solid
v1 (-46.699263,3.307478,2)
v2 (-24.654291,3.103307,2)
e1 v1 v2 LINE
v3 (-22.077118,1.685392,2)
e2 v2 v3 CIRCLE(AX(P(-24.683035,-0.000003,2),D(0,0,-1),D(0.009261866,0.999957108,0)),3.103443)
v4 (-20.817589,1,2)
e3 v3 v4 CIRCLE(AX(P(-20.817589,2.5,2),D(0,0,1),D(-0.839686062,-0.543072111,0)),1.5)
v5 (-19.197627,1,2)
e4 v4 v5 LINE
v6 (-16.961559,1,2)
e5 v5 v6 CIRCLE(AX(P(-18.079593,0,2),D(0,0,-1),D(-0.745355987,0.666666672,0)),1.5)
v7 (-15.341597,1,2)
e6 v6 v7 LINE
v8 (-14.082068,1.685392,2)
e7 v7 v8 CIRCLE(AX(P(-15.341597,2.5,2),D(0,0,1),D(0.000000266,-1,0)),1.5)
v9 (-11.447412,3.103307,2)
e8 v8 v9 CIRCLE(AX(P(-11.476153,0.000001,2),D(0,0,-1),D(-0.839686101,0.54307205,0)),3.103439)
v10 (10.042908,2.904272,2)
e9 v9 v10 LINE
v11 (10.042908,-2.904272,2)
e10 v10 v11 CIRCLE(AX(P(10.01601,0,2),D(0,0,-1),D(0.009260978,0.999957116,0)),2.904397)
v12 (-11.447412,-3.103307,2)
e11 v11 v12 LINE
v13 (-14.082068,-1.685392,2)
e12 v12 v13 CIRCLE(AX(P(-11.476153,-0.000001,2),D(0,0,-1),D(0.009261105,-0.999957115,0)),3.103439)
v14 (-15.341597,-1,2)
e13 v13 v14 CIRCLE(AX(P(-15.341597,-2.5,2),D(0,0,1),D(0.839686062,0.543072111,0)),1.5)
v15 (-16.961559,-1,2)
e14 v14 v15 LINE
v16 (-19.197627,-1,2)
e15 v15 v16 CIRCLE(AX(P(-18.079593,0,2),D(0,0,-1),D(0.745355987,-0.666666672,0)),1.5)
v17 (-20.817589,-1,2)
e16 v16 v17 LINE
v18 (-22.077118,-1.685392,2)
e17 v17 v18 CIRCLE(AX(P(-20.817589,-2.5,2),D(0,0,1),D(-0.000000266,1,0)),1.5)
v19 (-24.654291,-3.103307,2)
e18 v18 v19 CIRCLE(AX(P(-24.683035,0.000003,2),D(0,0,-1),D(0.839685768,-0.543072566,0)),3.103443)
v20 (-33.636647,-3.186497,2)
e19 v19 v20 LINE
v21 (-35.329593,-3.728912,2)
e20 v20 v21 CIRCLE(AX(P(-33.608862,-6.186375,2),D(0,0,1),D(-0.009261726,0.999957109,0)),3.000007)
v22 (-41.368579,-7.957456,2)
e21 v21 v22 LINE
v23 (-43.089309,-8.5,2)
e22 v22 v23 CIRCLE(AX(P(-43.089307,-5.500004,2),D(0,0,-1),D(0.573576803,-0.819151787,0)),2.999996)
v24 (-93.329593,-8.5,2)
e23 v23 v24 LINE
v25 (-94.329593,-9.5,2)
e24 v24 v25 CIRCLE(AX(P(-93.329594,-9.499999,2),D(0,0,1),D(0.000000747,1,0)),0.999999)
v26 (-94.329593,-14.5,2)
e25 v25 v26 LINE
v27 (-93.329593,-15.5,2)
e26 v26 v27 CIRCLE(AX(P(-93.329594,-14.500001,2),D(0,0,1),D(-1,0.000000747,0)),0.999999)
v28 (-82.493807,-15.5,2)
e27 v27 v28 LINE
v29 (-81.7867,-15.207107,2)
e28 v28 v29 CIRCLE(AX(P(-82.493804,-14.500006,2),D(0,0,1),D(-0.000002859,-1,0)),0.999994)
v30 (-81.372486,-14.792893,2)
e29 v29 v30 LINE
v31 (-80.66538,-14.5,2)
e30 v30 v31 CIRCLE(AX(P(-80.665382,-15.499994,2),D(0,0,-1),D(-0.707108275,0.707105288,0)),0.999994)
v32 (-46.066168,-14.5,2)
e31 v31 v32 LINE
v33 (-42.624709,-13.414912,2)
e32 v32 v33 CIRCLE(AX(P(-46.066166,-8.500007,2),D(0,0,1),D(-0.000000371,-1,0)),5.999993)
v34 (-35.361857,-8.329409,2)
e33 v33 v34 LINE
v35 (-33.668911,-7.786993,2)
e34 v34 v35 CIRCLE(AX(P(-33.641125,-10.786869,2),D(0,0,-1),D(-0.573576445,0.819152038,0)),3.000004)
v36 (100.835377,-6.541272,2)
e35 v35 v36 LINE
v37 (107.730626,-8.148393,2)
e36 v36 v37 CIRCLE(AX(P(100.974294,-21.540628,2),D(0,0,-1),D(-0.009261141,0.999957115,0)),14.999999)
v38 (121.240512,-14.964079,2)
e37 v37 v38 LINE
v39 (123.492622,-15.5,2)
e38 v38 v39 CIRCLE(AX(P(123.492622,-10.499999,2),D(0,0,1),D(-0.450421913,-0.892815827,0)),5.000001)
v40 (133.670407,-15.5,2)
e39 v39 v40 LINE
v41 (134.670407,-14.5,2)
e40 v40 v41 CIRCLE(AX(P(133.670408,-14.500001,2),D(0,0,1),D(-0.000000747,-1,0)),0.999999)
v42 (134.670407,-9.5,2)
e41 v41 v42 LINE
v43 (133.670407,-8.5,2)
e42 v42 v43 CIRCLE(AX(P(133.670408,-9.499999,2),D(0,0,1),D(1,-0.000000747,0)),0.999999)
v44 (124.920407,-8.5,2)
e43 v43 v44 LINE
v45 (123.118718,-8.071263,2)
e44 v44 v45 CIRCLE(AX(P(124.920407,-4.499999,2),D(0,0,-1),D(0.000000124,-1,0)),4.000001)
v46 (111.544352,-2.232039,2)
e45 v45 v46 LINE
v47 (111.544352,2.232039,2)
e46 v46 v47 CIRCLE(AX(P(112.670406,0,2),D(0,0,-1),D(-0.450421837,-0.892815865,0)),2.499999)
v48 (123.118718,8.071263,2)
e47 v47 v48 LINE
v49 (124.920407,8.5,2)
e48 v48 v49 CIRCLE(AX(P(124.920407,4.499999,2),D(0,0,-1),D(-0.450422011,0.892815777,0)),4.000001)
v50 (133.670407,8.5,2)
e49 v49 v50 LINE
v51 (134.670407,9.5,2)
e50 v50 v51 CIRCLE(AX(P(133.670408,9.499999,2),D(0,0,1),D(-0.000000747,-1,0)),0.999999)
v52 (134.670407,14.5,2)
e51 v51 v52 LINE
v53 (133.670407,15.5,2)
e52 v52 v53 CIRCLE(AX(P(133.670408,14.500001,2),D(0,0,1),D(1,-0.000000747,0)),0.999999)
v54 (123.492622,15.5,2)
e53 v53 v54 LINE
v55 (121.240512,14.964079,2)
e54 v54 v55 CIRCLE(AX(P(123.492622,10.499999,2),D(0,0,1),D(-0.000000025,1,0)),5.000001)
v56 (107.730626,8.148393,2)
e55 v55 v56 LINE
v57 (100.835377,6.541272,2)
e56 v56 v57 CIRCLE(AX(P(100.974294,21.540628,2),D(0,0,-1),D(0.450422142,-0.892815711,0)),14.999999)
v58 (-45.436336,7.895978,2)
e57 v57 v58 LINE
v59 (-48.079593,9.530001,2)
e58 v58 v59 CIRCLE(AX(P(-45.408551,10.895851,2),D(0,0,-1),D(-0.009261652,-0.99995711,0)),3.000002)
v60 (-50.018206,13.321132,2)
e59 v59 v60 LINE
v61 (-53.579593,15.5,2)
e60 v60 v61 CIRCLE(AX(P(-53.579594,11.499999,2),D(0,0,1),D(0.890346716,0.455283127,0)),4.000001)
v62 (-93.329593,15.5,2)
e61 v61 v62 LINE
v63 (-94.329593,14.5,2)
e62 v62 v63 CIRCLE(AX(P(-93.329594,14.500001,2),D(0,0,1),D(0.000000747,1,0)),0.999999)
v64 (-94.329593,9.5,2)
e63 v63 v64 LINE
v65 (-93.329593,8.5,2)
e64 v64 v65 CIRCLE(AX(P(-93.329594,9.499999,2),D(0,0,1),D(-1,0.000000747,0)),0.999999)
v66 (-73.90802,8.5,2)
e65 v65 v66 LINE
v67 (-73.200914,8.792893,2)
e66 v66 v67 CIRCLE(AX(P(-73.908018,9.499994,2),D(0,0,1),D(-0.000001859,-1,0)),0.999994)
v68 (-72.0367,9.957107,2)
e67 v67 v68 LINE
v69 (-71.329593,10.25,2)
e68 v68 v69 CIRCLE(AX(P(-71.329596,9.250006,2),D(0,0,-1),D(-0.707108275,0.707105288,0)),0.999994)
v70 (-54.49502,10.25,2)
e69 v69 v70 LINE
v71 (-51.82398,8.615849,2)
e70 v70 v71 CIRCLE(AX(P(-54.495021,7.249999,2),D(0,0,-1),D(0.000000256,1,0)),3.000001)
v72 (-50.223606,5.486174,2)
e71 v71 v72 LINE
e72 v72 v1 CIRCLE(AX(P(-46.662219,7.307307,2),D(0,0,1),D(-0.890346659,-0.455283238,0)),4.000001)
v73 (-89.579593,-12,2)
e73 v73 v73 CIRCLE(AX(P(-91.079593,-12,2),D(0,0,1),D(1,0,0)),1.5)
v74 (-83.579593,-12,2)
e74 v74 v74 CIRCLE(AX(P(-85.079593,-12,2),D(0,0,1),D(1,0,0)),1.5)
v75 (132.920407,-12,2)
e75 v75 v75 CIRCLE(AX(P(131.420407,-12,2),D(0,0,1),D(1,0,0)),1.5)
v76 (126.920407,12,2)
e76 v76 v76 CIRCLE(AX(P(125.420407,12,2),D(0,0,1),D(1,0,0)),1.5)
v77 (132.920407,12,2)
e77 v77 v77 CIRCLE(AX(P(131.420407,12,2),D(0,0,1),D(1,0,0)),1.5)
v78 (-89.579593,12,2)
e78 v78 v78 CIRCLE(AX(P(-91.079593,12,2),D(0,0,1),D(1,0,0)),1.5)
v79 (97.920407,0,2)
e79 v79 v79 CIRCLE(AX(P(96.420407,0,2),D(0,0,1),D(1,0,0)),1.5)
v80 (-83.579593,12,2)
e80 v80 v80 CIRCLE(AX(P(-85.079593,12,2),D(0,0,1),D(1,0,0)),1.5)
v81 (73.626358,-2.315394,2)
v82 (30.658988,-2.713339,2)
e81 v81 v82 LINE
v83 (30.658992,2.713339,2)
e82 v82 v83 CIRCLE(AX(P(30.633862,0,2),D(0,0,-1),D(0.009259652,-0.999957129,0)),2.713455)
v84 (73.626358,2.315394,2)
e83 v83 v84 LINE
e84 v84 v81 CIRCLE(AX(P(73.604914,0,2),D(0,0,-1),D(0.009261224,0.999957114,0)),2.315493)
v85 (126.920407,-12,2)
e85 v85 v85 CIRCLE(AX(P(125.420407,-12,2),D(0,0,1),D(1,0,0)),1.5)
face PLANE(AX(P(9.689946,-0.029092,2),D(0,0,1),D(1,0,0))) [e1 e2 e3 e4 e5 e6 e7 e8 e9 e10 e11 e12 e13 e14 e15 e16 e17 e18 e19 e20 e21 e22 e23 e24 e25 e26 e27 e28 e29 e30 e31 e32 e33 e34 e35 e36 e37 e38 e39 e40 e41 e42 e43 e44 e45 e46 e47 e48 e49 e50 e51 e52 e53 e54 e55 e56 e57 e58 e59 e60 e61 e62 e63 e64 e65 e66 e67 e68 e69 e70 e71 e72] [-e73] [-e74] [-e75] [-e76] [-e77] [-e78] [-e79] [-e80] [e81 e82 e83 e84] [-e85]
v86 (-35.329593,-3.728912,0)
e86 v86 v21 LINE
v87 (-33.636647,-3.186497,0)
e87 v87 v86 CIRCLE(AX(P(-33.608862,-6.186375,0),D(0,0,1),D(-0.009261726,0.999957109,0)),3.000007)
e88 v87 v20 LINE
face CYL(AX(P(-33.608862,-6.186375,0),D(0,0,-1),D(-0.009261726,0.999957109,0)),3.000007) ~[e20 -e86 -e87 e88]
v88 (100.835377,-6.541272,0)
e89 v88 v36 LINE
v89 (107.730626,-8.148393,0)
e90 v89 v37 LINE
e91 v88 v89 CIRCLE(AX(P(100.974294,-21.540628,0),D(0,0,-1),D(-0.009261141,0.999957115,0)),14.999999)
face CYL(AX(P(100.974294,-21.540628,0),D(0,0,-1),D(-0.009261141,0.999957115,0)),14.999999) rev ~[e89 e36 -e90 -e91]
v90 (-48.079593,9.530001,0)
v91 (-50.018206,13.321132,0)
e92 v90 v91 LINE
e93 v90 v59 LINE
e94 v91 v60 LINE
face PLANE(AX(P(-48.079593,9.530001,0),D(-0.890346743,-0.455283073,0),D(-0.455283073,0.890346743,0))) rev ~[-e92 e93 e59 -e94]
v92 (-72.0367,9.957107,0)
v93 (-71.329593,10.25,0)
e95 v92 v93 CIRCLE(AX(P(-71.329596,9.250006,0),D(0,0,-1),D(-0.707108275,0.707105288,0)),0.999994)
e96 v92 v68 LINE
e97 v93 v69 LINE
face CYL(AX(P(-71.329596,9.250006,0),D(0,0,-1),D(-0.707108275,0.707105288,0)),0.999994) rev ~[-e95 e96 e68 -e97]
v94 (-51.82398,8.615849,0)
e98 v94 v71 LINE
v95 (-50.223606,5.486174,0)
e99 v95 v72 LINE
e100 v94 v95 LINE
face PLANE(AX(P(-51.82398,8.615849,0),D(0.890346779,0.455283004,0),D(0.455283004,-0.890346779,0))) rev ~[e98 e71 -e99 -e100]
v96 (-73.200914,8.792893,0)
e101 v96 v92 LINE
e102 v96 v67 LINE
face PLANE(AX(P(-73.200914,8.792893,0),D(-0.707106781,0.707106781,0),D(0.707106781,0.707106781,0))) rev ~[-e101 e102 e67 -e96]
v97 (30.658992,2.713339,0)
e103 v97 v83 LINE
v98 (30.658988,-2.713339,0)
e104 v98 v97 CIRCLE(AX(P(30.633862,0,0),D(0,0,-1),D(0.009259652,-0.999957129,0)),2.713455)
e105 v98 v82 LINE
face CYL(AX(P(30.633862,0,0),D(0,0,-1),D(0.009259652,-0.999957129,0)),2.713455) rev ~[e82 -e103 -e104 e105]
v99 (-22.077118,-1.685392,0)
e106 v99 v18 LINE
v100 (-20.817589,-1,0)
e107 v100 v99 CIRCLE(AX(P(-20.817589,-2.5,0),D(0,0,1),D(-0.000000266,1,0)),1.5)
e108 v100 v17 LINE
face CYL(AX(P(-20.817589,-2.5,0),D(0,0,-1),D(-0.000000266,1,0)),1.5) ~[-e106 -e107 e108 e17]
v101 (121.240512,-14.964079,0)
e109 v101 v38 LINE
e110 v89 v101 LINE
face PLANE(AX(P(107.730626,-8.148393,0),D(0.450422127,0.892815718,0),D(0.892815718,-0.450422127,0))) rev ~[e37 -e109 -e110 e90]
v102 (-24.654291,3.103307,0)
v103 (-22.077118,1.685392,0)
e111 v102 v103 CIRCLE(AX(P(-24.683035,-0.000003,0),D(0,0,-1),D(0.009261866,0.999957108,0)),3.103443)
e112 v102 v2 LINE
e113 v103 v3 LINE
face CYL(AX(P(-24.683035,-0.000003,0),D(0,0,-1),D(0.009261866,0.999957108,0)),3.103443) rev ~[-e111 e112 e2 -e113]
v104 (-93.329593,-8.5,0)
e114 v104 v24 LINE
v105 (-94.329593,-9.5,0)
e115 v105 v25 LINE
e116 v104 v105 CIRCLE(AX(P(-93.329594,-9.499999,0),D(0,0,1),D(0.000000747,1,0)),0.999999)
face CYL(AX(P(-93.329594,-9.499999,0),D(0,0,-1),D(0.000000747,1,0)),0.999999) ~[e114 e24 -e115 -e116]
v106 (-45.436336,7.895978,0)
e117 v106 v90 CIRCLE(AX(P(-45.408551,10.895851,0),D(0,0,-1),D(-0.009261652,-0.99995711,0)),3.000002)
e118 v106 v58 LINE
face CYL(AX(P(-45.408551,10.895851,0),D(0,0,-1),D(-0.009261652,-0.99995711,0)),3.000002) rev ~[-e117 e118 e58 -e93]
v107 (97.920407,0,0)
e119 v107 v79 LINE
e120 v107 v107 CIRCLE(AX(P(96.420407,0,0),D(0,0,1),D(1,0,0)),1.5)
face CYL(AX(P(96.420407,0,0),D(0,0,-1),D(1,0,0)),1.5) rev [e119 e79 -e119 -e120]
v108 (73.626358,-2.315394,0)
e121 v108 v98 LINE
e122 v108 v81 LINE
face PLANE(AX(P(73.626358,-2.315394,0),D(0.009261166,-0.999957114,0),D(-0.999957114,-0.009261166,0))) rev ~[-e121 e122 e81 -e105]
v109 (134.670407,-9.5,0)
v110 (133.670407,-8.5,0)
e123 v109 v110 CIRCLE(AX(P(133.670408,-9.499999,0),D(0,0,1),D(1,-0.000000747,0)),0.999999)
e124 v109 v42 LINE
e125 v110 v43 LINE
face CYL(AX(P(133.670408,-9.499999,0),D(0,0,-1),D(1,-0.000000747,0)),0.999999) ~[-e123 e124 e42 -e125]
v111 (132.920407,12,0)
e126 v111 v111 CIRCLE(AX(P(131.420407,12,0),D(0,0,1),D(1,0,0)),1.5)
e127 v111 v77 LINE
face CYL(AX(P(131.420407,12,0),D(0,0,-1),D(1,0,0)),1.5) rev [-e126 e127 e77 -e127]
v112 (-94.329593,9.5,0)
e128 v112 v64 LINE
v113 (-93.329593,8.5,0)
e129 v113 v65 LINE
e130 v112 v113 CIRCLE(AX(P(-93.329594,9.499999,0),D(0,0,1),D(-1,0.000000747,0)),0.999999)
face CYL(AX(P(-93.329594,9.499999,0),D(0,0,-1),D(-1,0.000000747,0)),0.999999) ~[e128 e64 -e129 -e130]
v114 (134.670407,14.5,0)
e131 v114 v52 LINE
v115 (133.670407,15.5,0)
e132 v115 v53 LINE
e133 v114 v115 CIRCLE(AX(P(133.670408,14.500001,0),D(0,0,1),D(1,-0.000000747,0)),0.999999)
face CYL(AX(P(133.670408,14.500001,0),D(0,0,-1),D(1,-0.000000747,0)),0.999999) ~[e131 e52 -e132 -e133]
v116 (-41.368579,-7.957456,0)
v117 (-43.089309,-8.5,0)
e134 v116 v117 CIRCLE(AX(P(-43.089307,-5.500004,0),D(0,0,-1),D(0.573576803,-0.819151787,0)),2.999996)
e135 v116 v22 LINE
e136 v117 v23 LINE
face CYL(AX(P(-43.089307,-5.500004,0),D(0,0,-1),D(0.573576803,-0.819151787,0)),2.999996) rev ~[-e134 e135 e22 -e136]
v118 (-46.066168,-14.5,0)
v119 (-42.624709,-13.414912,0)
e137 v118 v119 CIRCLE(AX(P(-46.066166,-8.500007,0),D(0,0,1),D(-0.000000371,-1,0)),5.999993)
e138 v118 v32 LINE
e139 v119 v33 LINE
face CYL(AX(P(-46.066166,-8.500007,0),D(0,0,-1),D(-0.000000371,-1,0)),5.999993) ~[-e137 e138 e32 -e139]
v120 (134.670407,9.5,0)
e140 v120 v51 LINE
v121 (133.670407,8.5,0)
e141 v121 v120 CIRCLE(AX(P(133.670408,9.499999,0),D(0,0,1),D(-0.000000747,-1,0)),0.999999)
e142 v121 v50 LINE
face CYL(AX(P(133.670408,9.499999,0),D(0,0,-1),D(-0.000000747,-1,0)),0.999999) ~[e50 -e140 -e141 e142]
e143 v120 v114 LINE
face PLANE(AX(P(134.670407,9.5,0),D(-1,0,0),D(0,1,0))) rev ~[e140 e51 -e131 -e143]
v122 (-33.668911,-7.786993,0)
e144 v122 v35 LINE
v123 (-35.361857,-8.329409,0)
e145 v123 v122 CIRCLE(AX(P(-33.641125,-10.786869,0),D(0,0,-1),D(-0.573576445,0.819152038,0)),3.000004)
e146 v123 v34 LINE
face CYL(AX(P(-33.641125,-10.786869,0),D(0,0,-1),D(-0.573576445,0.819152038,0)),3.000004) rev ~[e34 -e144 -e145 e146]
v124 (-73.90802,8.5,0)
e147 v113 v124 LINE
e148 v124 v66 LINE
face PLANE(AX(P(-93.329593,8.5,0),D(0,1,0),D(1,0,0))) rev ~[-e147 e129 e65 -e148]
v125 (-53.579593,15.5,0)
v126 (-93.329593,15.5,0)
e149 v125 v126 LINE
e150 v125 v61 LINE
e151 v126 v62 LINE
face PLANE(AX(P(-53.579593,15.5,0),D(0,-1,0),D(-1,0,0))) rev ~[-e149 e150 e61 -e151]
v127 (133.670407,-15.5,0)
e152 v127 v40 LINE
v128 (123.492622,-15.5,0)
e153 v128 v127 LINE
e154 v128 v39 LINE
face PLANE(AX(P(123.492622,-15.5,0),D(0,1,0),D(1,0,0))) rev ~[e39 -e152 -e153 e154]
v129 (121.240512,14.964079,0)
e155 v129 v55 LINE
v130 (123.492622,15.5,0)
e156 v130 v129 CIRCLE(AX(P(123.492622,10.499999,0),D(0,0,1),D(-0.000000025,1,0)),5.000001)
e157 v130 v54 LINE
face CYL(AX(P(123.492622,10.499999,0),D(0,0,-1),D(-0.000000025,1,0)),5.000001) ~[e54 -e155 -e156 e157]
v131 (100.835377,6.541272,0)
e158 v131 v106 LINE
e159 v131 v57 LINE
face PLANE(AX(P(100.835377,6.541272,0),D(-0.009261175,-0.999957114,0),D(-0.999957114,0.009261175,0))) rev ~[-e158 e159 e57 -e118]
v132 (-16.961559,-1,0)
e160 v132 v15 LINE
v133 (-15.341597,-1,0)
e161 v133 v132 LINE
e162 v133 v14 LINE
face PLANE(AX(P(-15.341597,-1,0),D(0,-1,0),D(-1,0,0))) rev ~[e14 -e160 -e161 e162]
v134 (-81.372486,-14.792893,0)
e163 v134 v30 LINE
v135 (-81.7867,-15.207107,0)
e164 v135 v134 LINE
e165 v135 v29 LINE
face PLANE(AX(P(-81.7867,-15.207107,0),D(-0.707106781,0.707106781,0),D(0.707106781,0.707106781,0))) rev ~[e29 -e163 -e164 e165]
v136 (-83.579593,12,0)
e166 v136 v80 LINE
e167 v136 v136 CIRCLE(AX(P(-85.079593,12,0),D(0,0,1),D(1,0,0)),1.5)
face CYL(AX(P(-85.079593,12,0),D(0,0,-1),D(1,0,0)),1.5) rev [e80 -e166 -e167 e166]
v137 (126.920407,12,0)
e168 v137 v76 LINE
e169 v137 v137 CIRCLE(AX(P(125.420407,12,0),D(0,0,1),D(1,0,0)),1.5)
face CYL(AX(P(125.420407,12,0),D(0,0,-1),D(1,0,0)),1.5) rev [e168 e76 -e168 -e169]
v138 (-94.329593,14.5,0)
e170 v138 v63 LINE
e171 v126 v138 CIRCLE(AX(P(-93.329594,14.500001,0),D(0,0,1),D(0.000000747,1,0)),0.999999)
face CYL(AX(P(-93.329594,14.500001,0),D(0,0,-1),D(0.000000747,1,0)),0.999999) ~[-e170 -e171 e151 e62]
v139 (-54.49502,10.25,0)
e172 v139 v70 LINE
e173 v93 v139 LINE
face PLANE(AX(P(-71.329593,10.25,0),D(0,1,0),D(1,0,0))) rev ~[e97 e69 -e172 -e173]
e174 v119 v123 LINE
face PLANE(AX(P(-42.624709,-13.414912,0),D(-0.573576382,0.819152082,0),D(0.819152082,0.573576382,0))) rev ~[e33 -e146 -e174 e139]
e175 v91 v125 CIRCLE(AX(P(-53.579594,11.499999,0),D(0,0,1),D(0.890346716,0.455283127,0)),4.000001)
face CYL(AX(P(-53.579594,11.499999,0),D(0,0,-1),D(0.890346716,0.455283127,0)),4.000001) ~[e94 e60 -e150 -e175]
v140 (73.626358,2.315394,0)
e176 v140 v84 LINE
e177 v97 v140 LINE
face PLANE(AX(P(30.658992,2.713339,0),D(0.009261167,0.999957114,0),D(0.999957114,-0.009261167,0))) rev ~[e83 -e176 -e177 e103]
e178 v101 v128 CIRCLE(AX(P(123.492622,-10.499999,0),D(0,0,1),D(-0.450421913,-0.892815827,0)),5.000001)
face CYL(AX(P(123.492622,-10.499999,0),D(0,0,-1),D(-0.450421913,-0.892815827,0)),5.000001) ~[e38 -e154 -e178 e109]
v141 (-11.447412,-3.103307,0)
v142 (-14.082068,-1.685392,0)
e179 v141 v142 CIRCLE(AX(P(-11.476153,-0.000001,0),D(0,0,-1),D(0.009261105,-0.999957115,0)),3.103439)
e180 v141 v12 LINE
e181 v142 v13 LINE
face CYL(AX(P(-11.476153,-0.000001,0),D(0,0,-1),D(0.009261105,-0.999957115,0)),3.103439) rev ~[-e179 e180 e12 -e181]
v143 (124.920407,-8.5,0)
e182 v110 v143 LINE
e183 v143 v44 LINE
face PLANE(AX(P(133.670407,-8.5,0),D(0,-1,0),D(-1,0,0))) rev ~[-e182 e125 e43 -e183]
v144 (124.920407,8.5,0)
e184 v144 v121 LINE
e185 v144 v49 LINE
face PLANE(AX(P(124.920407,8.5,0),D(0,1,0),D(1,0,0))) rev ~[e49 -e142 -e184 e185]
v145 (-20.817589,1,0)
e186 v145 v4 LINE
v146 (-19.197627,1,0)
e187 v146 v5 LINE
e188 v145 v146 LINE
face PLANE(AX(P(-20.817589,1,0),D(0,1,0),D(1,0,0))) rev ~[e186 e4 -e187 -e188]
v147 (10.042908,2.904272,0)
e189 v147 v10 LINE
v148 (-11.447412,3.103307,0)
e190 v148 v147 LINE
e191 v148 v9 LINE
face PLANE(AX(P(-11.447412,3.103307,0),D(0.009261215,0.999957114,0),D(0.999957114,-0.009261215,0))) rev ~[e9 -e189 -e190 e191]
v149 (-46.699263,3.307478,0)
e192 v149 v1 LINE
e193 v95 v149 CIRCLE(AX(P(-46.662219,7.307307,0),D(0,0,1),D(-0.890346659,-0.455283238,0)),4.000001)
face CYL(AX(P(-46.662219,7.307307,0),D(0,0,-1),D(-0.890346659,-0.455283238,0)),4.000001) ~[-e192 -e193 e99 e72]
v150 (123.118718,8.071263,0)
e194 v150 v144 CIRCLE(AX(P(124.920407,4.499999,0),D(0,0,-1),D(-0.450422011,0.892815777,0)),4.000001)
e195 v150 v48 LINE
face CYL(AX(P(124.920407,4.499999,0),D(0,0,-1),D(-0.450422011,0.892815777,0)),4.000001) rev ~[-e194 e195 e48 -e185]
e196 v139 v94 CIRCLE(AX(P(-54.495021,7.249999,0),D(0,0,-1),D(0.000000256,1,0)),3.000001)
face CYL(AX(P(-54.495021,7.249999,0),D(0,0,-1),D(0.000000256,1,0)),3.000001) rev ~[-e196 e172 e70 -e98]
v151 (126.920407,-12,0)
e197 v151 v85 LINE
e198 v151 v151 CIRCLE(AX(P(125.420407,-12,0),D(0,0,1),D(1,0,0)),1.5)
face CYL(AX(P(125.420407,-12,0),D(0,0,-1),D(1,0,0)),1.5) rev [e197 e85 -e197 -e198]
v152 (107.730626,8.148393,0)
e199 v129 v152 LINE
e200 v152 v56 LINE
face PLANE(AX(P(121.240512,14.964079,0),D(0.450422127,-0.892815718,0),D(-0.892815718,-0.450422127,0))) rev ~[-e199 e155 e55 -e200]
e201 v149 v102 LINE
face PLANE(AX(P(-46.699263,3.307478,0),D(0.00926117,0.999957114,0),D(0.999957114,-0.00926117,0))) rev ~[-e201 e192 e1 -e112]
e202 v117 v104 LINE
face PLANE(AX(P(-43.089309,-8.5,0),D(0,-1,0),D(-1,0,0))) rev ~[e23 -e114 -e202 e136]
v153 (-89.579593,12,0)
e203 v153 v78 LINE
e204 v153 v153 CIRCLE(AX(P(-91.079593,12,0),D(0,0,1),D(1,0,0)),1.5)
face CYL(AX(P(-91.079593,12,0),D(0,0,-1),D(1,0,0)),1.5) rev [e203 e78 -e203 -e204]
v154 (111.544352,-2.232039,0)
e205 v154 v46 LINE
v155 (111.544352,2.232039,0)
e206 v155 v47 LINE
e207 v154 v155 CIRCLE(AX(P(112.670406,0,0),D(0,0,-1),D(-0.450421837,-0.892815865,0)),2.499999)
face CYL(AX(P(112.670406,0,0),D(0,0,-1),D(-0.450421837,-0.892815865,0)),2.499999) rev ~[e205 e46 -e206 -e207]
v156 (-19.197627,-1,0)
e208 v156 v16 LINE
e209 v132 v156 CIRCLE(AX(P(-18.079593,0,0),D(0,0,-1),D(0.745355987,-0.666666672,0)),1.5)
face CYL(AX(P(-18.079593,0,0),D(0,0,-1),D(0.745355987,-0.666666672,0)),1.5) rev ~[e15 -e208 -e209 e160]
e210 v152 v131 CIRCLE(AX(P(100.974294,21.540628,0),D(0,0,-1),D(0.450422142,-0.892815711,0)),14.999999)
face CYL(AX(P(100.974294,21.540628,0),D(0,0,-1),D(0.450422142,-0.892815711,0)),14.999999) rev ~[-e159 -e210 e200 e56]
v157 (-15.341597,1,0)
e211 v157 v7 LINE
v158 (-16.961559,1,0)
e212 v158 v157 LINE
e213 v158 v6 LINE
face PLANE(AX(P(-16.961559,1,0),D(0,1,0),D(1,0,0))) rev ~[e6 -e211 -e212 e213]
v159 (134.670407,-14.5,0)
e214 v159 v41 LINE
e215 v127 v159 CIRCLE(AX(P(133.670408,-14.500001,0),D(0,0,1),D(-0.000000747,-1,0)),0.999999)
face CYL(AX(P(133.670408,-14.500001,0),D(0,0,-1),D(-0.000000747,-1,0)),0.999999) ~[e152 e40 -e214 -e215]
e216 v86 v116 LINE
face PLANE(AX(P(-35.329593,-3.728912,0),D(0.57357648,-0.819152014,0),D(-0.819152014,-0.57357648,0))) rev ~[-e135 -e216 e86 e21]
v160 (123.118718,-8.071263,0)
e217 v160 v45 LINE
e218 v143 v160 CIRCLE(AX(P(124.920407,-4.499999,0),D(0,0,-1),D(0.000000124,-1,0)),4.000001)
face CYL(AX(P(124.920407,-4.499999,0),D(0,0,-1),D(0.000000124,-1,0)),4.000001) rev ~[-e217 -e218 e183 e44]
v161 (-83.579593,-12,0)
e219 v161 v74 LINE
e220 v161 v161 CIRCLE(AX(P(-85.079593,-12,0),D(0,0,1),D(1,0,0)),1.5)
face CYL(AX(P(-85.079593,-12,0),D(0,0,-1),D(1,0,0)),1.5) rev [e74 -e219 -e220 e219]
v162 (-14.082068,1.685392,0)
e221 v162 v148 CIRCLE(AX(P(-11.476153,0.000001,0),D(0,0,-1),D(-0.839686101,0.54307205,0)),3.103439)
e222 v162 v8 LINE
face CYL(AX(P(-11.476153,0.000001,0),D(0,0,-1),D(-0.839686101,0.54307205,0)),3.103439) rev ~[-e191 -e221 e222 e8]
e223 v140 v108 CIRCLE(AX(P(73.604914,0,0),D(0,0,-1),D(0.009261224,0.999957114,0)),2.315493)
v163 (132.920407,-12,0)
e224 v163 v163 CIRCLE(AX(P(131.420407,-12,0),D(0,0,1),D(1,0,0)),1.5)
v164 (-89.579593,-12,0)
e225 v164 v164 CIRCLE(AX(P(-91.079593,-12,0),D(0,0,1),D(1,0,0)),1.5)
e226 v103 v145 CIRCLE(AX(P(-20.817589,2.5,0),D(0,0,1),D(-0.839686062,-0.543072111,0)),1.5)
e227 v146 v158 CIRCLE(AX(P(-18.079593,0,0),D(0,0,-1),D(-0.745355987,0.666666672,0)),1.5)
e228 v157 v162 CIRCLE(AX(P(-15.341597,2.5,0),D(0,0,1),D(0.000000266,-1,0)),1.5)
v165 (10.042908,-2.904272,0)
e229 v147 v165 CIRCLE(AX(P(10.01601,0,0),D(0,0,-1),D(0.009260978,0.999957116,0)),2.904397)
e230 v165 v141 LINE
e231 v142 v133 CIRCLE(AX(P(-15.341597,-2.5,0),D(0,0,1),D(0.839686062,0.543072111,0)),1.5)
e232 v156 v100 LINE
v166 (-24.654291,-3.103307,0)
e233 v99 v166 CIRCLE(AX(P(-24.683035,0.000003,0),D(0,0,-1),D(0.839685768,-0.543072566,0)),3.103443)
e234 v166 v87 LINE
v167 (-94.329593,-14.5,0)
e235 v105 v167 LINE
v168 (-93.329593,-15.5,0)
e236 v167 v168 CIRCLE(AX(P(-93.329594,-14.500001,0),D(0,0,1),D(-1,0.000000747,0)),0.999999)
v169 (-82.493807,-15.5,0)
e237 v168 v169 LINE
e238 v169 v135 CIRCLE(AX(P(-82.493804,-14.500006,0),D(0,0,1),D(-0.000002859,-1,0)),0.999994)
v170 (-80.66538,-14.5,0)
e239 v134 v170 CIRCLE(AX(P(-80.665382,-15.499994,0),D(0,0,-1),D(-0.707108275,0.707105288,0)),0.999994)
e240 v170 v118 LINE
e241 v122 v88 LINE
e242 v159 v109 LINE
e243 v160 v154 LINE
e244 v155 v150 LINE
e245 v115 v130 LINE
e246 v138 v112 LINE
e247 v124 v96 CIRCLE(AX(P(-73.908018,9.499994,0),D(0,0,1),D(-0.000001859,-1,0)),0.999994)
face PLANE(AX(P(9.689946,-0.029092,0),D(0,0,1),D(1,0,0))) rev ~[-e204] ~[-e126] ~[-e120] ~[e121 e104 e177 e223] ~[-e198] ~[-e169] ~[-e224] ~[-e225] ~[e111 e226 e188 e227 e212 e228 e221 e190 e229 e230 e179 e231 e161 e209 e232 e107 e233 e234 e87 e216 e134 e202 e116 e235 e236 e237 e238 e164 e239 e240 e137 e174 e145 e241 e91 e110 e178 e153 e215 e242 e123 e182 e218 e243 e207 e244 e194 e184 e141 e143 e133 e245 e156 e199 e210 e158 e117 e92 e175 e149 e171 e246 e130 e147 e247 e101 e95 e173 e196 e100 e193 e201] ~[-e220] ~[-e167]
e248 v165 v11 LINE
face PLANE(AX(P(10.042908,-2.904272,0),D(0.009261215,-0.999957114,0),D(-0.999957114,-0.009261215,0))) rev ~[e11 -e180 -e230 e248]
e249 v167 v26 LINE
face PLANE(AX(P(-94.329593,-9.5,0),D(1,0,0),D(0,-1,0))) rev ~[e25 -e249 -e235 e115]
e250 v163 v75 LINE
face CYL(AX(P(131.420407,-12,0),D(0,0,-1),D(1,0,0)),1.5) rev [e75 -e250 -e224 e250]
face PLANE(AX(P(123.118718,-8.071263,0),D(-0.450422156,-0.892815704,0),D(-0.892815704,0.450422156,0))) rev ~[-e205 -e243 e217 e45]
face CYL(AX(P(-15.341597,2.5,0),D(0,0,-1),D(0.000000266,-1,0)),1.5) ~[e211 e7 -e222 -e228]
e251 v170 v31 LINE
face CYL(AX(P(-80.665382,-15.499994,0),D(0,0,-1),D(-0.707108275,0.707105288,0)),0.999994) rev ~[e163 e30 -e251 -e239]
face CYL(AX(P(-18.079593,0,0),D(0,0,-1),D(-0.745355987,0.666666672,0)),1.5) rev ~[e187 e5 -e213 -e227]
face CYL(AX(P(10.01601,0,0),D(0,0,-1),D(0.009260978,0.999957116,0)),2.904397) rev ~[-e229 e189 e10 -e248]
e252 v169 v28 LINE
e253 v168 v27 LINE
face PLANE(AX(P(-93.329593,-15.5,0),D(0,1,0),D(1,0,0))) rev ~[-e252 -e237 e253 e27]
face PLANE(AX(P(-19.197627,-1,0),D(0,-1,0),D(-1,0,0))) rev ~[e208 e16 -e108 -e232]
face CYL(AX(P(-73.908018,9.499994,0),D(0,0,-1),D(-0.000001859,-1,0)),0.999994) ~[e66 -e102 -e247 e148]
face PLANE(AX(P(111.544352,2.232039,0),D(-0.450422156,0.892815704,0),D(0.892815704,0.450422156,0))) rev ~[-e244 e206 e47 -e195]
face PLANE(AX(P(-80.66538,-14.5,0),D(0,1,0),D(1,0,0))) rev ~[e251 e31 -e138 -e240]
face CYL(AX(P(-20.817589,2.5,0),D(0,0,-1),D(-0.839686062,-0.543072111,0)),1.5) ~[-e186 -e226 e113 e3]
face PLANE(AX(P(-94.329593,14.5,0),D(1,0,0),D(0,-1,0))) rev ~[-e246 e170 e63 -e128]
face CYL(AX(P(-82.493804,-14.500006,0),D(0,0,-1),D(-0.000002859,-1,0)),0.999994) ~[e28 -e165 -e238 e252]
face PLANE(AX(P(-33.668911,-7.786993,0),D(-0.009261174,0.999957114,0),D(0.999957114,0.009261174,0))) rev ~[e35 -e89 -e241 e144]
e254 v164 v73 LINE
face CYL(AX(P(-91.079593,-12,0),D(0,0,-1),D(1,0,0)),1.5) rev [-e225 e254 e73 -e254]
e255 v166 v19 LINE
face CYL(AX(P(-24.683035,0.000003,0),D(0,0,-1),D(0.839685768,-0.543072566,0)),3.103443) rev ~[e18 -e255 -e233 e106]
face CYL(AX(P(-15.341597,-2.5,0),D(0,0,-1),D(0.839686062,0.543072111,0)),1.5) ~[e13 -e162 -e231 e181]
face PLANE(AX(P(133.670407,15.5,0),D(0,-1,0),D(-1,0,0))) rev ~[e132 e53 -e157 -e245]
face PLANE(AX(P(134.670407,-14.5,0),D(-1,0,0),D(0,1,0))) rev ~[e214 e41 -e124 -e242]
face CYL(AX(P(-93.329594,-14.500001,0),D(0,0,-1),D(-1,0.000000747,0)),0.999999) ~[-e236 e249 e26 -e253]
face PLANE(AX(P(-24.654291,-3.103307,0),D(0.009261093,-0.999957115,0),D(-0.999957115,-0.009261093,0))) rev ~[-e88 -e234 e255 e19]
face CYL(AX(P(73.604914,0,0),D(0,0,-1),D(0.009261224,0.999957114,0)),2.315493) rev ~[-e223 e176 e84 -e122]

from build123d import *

# Parameters (mm, degrees)
F0_R     = 1.5
F1_DEPTH = 2


with BuildPart() as f1:
    # F0 (on Top) → F1 (new body)
    with BuildSketch(Plane.XY):
        with BuildLine():
            ThreePointArc((-19.197627, 1), (-18.079593, 1.5), (-16.961559, 1))
            Line((-16.961559, 1), (-15.341597, 1))
            ThreePointArc((-15.341597, 1), (-14.624629, 1.182443), (-14.082068, 1.685392))
            ThreePointArc((-14.082068, 1.685392), (-12.946894, 2.732812), (-11.447412, 3.103307))
            Line((-11.447412, 3.103307), (10.042908, 2.904272))
            ThreePointArc((10.042908, 2.904272), (12.920407, 0), (10.042908, -2.904272))
            Line((10.042908, -2.904272), (-11.447412, -3.103307))
            ThreePointArc((-11.447412, -3.103307), (-12.946894, -2.732812), (-14.082068, -1.685392))
            ThreePointArc((-14.082068, -1.685392), (-14.624629, -1.182443), (-15.341597, -1))
            Line((-15.341597, -1), (-16.961559, -1))
            ThreePointArc((-16.961559, -1), (-18.079593, -1.5), (-19.197627, -1))
            Line((-19.197627, -1), (-20.817589, -1))
            ThreePointArc((-20.817589, -1), (-21.534557, -1.182443), (-22.077118, -1.685392))
            ThreePointArc((-22.077118, -1.685392), (-23.187047, -2.719074), (-24.654291, -3.103307))
            Line((-24.654291, -3.103307), (-33.636647, -3.186497))
            ThreePointArc((-33.636647, -3.186497), (-34.524221, -3.329426), (-35.329593, -3.728912))
            Line((-35.329593, -3.728912), (-41.368579, -7.957456))
            ThreePointArc((-41.368579, -7.957456), (-42.187191, -8.361151), (-43.089309, -8.5))
            Line((-43.089309, -8.5), (-93.329593, -8.5))
            ThreePointArc((-93.329593, -8.5), (-94.0367, -8.792893), (-94.329593, -9.5))
            Line((-94.329593, -9.5), (-94.329593, -14.5))
            ThreePointArc((-94.329593, -14.5), (-94.0367, -15.207107), (-93.329593, -15.5))
            Line((-93.329593, -15.5), (-82.493807, -15.5))
            ThreePointArc((-82.493807, -15.5), (-82.111123, -15.42388), (-81.7867, -15.207107))
            Line((-81.7867, -15.207107), (-81.372486, -14.792893))
            ThreePointArc((-81.372486, -14.792893), (-81.048063, -14.57612), (-80.66538, -14.5))
            Line((-80.66538, -14.5), (-46.066168, -14.5))
            ThreePointArc((-46.066168, -14.5), (-44.261933, -14.222302), (-42.624709, -13.414912))
            Line((-42.624709, -13.414912), (-35.361857, -8.329409))
            ThreePointArc((-35.361857, -8.329409), (-34.556484, -7.929922), (-33.668911, -7.786993))
            Line((-33.668911, -7.786993), (100.835377, -6.541272))
            ThreePointArc((100.835377, -6.541272), (104.379181, -6.932181), (107.730626, -8.148393))
            Line((107.730626, -8.148393), (121.240512, -14.964079))
            ThreePointArc((121.240512, -14.964079), (122.335124, -15.364175), (123.492622, -15.5))
            Line((123.492622, -15.5), (133.670407, -15.5))
            ThreePointArc((133.670407, -15.5), (134.377514, -15.207107), (134.670407, -14.5))
            Line((134.670407, -14.5), (134.670407, -9.5))
            ThreePointArc((134.670407, -9.5), (134.377514, -8.792893), (133.670407, -8.5))
            Line((133.670407, -8.5), (124.920407, -8.5))
            ThreePointArc((124.920407, -8.5), (123.994408, -8.39134), (123.118718, -8.071263))
            Line((123.118718, -8.071263), (111.544352, -2.232039))
            ThreePointArc((111.544352, -2.232039), (110.170407, 0), (111.544352, 2.232039))
            Line((111.544352, 2.232039), (123.118718, 8.071263))
            ThreePointArc((123.118718, 8.071263), (123.994408, 8.39134), (124.920407, 8.5))
            Line((124.920407, 8.5), (133.670407, 8.5))
            ThreePointArc((133.670407, 8.5), (134.377514, 8.792893), (134.670407, 9.5))
            Line((134.670407, 9.5), (134.670407, 14.5))
            ThreePointArc((134.670407, 14.5), (134.377514, 15.207107), (133.670407, 15.5))
            Line((133.670407, 15.5), (123.492622, 15.5))
            ThreePointArc((123.492622, 15.5), (122.335124, 15.364175), (121.240512, 14.964079))
            Line((121.240512, 14.964079), (107.730626, 8.148393))
            ThreePointArc((107.730626, 8.148393), (104.379181, 6.932181), (100.835377, 6.541272))
            Line((100.835377, 6.541272), (-45.436336, 7.895978))
            ThreePointArc((-45.436336, 7.895978), (-46.986025, 8.34407), (-48.079593, 9.530001))
            Line((-48.079593, 9.530001), (-50.018206, 13.321132))
            ThreePointArc((-50.018206, 13.321132), (-51.492074, 14.912076), (-53.579593, 15.5))
            Line((-53.579593, 15.5), (-93.329593, 15.5))
            ThreePointArc((-93.329593, 15.5), (-94.0367, 15.207107), (-94.329593, 14.5))
            Line((-94.329593, 14.5), (-94.329593, 9.5))
            ThreePointArc((-94.329593, 9.5), (-94.0367, 8.792893), (-93.329593, 8.5))
            Line((-93.329593, 8.5), (-73.90802, 8.5))
            ThreePointArc((-73.90802, 8.5), (-73.525337, 8.57612), (-73.200914, 8.792893))
            Line((-73.200914, 8.792893), (-72.0367, 9.957107))
            ThreePointArc((-72.0367, 9.957107), (-71.712277, 10.17388), (-71.329593, 10.25))
            Line((-71.329593, 10.25), (-54.49502, 10.25))
            ThreePointArc((-54.49502, 10.25), (-52.929381, 9.809057), (-51.82398, 8.615849))
            Line((-51.82398, 8.615849), (-50.223606, 5.486174))
            ThreePointArc((-50.223606, 5.486174), (-48.765515, 3.904933), (-46.699263, 3.307478))
            Line((-46.699263, 3.307478), (-24.654291, 3.103307))
            ThreePointArc((-24.654291, 3.103307), (-23.187047, 2.719074), (-22.077118, 1.685392))
            ThreePointArc((-22.077118, 1.685392), (-21.534557, 1.182443), (-20.817589, 1))
            Line((-20.817589, 1), (-19.197627, 1))
        make_face()
        with Locations((-91.079593, -12)):
            Circle(F0_R, mode=Mode.SUBTRACT)
        with Locations((-85.079593, -12)):
            Circle(F0_R, mode=Mode.SUBTRACT)
        with Locations((125.420407, -12)):
            Circle(F0_R, mode=Mode.SUBTRACT)
        with Locations((131.420407, -12)):
            Circle(F0_R, mode=Mode.SUBTRACT)
        with BuildLine():
            ThreePointArc((73.626358, 2.315394), (75.920407, 0), (73.626358, -2.315394))
            Line((73.626358, -2.315394), (30.658988, -2.713339))
            ThreePointArc((30.658988, -2.713339), (27.920407, 2e-06), (30.658992, 2.713339))
            Line((30.658992, 2.713339), (73.626358, 2.315394))
        make_face(mode=Mode.SUBTRACT)
        with Locations((-91.079593, 12)):
            Circle(F0_R, mode=Mode.SUBTRACT)
        with Locations((-85.079593, 12)):
            Circle(F0_R, mode=Mode.SUBTRACT)
        with Locations((96.420407, 0)):
            Circle(F0_R, mode=Mode.SUBTRACT)
        with Locations((125.420407, 12)):
            Circle(F0_R, mode=Mode.SUBTRACT)
        with Locations((131.420407, 12)):
            Circle(F0_R, mode=Mode.SUBTRACT)
    extrude(amount=F1_DEPTH)


solid = f1.part
